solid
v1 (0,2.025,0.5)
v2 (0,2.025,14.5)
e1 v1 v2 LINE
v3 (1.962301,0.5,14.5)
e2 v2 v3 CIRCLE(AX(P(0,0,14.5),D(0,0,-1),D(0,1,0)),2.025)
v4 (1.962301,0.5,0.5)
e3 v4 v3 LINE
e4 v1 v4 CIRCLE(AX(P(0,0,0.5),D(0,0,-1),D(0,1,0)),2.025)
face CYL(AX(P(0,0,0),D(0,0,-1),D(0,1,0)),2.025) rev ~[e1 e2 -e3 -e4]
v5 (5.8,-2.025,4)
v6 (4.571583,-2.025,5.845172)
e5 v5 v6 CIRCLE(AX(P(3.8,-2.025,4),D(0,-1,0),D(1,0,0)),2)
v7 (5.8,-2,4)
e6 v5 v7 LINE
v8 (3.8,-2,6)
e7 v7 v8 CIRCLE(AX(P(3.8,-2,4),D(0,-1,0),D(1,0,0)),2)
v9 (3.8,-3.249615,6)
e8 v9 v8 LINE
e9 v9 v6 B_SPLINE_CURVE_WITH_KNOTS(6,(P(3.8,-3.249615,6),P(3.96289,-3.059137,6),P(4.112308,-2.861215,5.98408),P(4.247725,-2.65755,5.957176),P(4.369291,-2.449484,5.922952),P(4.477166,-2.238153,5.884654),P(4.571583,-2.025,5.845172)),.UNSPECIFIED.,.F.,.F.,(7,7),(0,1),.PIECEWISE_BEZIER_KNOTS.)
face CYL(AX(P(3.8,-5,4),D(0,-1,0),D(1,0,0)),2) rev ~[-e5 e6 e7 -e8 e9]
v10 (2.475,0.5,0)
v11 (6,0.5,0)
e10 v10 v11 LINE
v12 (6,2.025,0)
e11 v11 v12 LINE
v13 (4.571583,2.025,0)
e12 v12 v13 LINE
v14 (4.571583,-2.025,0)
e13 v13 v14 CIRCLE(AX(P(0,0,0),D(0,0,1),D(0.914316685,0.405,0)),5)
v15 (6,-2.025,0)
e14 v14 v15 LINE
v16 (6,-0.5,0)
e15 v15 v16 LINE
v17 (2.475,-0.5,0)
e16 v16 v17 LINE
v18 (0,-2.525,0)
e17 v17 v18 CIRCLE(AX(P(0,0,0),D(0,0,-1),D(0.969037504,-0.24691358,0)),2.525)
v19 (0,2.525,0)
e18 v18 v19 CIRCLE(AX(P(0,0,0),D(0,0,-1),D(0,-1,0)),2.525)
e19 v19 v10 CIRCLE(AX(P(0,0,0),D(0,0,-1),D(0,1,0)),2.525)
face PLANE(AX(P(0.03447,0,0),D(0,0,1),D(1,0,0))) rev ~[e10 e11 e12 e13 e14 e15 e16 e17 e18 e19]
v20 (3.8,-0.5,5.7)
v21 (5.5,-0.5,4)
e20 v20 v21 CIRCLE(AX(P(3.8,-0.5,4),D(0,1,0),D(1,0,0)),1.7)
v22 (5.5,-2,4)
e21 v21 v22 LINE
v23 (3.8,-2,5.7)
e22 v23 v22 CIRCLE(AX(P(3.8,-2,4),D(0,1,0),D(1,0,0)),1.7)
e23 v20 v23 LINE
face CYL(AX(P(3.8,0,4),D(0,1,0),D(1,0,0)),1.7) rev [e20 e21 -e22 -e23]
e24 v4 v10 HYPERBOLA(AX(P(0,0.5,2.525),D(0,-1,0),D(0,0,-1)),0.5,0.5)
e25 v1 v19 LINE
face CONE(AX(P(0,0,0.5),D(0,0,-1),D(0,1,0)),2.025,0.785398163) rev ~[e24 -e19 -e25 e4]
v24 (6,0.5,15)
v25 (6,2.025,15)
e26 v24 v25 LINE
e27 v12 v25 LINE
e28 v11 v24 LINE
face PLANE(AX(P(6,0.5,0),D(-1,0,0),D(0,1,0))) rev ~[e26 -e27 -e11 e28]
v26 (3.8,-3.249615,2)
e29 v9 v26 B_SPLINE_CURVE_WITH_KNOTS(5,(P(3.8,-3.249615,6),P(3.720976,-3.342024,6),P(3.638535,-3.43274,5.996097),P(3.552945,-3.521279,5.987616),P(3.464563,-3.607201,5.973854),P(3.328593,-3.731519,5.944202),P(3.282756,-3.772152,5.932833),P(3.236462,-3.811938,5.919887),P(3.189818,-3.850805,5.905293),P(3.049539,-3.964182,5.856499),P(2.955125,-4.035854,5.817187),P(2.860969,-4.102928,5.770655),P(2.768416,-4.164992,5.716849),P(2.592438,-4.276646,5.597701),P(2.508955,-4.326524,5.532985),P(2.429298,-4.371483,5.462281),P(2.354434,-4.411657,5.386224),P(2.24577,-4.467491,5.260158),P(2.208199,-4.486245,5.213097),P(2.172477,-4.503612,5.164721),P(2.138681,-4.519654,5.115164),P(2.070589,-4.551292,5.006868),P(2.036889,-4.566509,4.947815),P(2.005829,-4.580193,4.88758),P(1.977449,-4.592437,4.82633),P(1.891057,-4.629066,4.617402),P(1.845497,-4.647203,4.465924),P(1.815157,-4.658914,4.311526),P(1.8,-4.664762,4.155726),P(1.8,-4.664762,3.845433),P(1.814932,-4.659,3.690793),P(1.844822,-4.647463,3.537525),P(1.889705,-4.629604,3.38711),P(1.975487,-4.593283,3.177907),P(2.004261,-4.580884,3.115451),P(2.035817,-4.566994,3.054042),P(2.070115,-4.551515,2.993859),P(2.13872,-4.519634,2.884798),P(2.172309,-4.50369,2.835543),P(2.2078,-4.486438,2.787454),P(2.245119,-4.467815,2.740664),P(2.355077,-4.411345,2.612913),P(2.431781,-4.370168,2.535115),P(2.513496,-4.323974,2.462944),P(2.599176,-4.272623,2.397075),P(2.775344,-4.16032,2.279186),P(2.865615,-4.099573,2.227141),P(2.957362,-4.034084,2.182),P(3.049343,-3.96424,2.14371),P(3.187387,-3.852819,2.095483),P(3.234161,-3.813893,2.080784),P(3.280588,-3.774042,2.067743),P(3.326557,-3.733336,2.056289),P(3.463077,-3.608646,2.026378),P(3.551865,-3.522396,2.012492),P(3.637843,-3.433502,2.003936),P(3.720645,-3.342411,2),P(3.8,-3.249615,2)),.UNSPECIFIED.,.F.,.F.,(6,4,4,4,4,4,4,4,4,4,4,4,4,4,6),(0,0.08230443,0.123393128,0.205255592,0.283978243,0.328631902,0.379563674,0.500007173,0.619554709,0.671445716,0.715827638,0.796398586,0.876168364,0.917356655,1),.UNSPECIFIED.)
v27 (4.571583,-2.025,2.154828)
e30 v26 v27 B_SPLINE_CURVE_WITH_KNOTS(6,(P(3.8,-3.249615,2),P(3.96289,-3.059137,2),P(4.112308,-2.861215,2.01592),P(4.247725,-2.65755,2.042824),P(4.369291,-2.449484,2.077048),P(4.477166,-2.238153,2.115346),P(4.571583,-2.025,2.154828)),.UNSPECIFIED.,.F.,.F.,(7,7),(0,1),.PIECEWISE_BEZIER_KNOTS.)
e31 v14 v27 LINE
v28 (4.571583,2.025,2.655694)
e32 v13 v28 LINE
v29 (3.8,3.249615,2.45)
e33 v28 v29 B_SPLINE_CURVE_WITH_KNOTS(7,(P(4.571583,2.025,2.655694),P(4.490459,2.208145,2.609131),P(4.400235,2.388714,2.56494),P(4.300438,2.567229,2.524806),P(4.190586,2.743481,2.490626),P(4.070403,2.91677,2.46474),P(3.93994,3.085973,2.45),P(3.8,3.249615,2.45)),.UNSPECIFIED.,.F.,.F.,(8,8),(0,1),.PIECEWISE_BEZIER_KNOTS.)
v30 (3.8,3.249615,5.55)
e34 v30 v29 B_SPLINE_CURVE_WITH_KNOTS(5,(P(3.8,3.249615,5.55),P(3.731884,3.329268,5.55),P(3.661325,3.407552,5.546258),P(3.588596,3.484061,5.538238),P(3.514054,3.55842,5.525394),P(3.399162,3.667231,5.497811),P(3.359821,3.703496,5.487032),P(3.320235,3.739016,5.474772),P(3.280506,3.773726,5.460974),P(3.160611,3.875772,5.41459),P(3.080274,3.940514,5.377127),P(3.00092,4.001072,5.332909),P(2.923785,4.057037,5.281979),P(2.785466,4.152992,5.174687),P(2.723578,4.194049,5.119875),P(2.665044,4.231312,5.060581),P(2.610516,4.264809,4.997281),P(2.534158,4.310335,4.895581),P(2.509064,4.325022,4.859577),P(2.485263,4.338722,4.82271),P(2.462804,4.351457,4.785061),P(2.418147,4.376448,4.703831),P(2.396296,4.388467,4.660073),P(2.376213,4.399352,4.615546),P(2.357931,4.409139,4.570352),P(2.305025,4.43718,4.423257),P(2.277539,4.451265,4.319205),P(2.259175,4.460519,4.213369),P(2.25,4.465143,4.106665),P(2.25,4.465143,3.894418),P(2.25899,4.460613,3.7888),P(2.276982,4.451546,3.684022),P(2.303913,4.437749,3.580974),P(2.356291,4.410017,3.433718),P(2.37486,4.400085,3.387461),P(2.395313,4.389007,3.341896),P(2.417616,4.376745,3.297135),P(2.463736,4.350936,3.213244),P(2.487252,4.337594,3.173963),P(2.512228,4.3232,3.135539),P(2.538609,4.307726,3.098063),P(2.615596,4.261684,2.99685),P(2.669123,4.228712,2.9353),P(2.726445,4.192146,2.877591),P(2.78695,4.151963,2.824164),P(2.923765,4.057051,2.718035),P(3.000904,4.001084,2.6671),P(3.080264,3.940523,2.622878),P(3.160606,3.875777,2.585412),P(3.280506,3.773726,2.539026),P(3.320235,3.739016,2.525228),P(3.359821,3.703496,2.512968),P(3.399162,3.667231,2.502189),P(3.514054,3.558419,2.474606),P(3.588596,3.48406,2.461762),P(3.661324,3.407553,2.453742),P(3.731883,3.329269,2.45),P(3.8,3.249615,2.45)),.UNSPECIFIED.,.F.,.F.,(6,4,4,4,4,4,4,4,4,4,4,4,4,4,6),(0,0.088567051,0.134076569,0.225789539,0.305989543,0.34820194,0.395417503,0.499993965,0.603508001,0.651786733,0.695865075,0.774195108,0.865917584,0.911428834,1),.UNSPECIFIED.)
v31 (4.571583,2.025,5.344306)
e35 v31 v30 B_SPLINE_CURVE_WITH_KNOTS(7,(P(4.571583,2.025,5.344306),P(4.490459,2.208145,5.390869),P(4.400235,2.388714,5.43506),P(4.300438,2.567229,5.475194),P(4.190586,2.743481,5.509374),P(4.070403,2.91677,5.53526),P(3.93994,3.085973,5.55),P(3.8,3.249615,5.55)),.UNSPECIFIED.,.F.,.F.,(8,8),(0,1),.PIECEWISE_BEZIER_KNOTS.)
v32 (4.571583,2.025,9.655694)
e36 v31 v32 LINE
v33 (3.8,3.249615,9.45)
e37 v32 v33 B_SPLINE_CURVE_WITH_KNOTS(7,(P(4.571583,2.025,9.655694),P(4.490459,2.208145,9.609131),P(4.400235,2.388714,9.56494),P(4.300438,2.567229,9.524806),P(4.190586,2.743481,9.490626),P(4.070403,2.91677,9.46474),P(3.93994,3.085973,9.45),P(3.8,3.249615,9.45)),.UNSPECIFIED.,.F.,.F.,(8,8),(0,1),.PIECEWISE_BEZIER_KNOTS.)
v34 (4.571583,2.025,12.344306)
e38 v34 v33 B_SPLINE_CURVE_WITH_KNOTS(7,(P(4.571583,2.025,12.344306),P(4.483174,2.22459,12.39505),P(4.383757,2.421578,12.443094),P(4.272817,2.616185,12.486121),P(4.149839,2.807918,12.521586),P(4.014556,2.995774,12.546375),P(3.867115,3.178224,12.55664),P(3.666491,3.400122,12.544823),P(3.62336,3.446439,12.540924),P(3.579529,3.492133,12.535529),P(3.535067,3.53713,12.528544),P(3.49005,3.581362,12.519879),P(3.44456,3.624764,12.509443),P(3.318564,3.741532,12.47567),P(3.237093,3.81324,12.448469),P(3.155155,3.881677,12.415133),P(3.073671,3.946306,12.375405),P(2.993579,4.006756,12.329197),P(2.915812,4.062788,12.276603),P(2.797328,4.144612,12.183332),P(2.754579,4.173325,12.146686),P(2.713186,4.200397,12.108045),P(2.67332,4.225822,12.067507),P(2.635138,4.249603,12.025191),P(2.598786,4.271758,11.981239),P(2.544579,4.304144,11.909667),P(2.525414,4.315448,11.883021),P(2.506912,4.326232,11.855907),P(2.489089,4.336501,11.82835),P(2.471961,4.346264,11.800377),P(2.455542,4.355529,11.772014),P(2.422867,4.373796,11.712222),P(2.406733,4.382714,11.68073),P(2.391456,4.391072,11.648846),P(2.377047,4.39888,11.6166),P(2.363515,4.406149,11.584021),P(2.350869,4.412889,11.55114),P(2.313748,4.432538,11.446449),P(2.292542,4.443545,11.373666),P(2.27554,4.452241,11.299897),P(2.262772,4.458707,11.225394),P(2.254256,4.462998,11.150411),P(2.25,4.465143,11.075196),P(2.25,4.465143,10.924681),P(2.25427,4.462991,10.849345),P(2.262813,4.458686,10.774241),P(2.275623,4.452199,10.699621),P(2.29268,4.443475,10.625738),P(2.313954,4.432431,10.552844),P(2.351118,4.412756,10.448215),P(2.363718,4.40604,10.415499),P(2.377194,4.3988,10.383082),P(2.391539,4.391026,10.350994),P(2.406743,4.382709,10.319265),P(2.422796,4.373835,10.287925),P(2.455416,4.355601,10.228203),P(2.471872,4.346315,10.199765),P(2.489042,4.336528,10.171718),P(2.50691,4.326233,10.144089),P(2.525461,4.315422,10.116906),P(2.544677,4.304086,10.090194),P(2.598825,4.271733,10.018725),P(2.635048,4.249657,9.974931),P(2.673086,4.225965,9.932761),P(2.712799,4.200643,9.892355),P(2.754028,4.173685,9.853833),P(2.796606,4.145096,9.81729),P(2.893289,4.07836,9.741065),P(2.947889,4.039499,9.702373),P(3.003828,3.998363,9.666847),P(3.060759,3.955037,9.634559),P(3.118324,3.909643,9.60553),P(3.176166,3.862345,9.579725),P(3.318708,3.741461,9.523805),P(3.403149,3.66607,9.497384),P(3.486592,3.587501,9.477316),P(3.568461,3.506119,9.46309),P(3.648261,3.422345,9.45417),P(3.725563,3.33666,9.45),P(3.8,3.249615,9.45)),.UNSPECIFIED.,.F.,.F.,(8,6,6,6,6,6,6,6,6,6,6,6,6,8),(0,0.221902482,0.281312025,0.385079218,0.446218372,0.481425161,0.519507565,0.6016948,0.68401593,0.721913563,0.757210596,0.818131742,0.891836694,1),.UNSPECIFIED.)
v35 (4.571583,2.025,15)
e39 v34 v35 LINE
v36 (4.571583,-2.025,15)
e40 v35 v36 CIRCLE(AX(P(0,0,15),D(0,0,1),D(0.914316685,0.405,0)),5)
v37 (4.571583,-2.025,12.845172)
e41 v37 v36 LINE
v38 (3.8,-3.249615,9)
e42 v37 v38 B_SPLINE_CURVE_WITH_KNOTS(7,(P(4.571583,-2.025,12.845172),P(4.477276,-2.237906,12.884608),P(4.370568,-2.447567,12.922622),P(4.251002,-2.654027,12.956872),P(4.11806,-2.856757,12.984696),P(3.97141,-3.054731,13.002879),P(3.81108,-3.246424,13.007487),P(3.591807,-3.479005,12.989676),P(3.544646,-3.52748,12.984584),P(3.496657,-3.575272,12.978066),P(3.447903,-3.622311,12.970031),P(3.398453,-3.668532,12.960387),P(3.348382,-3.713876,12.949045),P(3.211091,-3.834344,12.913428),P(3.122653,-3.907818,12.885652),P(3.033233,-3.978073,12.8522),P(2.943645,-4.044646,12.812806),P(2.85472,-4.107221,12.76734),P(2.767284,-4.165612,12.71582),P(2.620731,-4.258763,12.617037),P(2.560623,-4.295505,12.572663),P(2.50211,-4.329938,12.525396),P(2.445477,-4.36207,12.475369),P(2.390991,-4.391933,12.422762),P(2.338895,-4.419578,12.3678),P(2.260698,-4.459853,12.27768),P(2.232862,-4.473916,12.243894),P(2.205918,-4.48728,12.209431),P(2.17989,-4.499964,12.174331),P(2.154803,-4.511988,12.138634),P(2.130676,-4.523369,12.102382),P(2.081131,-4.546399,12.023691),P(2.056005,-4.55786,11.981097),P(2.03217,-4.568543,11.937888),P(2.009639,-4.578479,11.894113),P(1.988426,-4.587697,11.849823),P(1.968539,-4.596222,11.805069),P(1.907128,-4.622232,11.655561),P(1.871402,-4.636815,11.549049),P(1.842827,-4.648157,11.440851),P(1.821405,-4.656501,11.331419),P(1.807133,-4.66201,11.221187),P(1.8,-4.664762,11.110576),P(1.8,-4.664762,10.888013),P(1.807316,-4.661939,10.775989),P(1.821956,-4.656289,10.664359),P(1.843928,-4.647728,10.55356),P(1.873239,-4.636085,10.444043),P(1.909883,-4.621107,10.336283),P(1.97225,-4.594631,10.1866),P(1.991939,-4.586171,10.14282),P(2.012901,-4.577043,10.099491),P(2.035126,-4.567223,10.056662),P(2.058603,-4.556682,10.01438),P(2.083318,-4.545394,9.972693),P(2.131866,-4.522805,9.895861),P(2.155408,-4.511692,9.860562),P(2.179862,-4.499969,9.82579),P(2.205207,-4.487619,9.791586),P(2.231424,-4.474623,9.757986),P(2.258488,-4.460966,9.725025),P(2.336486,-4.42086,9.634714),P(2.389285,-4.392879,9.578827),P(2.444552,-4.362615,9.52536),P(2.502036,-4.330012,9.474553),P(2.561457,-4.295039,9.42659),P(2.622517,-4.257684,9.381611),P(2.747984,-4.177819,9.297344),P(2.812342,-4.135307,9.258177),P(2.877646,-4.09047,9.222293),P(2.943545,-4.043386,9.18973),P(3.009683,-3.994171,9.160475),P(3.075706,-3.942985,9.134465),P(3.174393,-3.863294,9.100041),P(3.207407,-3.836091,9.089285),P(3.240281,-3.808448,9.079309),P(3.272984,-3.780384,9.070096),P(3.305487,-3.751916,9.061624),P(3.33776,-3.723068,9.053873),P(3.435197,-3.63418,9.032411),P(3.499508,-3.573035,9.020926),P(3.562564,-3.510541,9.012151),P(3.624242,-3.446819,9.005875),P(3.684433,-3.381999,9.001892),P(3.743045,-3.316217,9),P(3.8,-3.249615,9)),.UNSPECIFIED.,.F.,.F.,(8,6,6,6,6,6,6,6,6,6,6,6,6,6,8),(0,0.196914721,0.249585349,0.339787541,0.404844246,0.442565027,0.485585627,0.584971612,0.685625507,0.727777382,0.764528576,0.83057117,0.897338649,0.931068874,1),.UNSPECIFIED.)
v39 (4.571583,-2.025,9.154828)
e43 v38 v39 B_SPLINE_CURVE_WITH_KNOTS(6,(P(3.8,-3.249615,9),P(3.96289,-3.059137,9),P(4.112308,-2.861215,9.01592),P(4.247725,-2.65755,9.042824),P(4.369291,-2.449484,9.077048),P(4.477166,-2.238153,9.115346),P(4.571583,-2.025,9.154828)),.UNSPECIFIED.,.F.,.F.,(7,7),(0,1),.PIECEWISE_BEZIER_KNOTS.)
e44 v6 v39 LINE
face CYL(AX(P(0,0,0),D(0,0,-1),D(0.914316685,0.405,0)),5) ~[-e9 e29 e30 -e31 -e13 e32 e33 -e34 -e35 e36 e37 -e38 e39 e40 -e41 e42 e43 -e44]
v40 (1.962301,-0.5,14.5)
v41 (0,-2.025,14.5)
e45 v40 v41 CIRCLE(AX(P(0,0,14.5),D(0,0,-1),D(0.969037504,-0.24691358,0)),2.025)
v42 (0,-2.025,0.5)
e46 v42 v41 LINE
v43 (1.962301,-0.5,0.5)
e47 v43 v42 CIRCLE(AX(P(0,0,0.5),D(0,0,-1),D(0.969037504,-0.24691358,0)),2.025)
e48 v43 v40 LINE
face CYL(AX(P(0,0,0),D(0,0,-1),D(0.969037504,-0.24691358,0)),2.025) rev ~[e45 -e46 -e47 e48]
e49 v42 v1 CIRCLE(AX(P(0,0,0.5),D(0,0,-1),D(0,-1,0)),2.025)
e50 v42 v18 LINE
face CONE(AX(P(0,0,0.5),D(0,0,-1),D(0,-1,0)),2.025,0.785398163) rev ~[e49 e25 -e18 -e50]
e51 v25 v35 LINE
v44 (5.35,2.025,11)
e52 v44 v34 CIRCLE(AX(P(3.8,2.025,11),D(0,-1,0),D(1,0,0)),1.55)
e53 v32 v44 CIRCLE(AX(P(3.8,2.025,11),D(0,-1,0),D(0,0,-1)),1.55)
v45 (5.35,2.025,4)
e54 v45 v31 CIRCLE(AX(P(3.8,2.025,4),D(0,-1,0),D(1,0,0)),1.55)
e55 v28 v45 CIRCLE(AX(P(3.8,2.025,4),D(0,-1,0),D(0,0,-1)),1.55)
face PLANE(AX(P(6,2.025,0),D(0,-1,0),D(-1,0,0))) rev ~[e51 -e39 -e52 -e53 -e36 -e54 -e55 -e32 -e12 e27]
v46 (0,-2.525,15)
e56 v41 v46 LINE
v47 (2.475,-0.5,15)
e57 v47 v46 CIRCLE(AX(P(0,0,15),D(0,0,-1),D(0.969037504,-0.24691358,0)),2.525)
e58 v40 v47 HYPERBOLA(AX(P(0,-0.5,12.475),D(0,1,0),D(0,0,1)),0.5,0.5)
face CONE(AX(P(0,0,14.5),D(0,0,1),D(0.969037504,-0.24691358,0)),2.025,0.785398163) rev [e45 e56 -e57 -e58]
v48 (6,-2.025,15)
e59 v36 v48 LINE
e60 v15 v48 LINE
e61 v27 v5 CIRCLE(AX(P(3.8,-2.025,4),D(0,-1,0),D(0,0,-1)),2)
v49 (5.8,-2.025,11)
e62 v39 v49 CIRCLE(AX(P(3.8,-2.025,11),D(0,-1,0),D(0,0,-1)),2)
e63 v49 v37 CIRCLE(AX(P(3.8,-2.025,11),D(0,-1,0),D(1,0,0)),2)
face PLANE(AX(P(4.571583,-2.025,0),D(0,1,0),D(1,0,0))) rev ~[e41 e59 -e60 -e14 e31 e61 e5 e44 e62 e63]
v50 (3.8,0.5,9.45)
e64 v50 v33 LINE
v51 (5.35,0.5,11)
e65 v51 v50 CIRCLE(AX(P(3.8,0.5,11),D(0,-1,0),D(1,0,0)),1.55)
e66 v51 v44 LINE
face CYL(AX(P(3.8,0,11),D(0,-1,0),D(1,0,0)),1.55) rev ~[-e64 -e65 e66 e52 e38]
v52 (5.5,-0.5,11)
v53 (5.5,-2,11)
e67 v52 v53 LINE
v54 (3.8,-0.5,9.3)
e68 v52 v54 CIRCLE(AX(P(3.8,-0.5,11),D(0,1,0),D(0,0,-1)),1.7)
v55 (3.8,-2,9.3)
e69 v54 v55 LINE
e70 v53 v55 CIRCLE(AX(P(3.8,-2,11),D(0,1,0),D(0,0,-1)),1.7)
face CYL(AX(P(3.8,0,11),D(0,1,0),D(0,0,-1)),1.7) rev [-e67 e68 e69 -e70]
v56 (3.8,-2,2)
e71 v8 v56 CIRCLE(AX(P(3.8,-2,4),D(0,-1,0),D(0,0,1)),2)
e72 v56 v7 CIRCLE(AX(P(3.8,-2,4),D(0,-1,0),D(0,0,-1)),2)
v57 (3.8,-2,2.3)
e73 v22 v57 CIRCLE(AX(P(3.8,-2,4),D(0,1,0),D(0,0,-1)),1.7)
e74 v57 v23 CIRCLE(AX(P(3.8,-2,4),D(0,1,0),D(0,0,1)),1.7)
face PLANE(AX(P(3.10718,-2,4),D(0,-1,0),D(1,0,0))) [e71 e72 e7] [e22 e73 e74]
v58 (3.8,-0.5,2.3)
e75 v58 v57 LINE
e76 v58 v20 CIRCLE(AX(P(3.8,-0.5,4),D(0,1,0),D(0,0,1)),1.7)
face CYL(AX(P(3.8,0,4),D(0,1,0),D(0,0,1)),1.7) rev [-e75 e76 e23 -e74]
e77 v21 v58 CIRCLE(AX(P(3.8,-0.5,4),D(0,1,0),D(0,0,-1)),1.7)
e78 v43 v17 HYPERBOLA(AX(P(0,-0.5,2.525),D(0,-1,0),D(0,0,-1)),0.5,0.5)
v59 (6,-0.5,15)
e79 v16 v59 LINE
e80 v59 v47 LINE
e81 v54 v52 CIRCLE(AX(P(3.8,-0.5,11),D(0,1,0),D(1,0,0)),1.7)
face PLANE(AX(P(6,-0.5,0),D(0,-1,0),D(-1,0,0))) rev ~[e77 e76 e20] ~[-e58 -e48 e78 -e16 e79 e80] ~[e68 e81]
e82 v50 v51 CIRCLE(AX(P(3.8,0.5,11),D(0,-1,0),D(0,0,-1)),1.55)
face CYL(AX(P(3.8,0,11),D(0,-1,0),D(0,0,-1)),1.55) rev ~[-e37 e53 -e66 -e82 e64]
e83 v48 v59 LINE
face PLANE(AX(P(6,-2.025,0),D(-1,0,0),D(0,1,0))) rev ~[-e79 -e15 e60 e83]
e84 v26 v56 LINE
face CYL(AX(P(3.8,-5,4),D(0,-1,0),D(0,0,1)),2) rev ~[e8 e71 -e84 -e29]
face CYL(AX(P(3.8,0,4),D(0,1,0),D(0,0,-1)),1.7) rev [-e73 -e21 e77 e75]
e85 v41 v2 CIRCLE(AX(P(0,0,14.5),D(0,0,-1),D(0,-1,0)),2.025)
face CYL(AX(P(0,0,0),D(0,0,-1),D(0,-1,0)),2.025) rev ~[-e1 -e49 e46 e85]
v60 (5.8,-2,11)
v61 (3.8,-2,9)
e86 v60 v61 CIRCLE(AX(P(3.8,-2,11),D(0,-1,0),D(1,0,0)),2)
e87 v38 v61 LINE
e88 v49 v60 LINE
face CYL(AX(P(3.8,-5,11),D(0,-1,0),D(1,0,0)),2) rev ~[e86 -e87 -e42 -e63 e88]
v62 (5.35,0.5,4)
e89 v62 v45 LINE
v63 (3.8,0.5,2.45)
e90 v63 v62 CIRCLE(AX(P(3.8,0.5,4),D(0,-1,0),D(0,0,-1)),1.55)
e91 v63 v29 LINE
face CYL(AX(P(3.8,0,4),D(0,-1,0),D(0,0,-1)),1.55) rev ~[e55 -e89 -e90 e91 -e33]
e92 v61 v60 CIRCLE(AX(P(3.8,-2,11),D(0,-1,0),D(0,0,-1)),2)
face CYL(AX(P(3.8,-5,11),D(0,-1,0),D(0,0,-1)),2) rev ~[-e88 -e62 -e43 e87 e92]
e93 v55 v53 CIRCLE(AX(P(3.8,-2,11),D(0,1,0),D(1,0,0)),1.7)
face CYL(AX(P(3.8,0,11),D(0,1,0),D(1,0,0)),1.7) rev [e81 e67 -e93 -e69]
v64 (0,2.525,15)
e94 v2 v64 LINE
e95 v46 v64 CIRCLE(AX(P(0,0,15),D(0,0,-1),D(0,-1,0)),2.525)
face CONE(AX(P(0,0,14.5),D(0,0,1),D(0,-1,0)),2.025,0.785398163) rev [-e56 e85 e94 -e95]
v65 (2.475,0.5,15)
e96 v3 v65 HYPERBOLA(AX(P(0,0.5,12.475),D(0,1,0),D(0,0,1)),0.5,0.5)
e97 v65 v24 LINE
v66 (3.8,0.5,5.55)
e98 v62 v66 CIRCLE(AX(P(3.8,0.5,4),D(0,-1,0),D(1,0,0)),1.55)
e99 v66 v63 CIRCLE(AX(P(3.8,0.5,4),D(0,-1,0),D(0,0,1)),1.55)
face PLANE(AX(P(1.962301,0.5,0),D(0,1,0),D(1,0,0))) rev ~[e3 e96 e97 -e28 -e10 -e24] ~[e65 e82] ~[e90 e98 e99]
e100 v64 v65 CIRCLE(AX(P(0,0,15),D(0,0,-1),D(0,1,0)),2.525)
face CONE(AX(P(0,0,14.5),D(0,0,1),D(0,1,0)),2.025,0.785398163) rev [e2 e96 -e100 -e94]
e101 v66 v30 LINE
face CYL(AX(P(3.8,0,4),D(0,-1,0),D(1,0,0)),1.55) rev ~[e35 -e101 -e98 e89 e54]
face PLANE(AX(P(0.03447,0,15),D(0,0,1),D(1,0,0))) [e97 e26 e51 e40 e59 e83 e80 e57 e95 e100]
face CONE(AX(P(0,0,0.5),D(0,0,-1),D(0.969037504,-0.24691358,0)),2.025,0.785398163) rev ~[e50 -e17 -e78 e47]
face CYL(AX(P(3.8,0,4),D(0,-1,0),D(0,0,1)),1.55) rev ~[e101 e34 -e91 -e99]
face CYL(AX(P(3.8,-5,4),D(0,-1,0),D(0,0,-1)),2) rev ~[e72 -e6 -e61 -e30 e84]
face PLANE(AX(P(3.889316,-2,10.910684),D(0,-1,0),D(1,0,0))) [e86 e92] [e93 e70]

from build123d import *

# Parameters (mm, degrees)
F2_DEPTH = 15
F3_DEPTH = 5
F4_DEPTH = 5
F7_DEPTH = 3
F8_SIZE  = 0.5


with BuildPart() as f2:
    # F0 (on Top) → F2 (new body)
    with BuildSketch(Plane.XY):
        with BuildLine():
            ThreePointArc((0, -2.025), (-2.025, 0), (0, 2.025))
            Line((0, 2.025), (4.5715834237, 2.025))
            ThreePointArc((4.5715834237, 2.025), (-5, 0), (4.5715834237, -2.025))
            Line((4.5715834237, -2.025), (0, -2.025))
        make_face()
        with BuildLine():
            Line((4.5715834237, 2.025), (0, 2.025))
            ThreePointArc((0, 2.025), (1.2426031144, 1.5989254204), (1.9623009453, 0.5))
            Line((1.9623009453, 0.5), (4.9749371855, 0.5))
            ThreePointArc((4.9749371855, 0.5), (4.8337790791, 1.2785068691), (4.5715834237, 2.025))
        make_face()
        with BuildLine():
            ThreePointArc((1.9623009453, -0.5), (1.2426031144, -1.5989254204), (0, -2.025))
            Line((0, -2.025), (4.5715834237, -2.025))
            ThreePointArc((4.5715834237, -2.025), (4.8337790791, -1.2785068691), (4.9749371855, -0.5))
            Line((4.9749371855, -0.5), (1.9623009453, -0.5))
        make_face()
        with BuildLine():
            Line((6, 2.025), (4.5715834237, 2.025))
            ThreePointArc((4.5715834237, 2.025), (4.8337790791, 1.2785068691), (4.9749371855, 0.5))
            Line((4.9749371855, 0.5), (5.5474806577, 0.5))
            Line((5.5474806577, 0.5), (6, 0.5))
            Line((6, 0.5), (6, 2.025))
        make_face()
        with BuildLine():
            ThreePointArc((4.9749371855, -0.5), (4.8337790791, -1.2785068691), (4.5715834237, -2.025))
            Line((4.5715834237, -2.025), (6, -2.025))
            Line((6, -2.025), (6, -0.5))
            Line((6, -0.5), (5.5474806577, -0.5))
            Line((5.5474806577, -0.5), (4.9749371855, -0.5))
        make_face()
    extrude(amount=F2_DEPTH)

    # F1 (on Front) → F3 (cut)
    with BuildSketch(Plane.XZ):
        with BuildLine():
            ThreePointArc((5.35, 11), (2.7039844892, 12.0960155108), (3.8, 9.45))
            ThreePointArc((3.8, 9.45), (4.8960155108, 9.9039844892), (5.35, 11))
        make_face()
        with BuildLine():
            Line((3.8, 4), (3.8, 2.45))
            ThreePointArc((3.8, 2.45), (4.8960155108, 2.9039844892), (5.35, 4))
            ThreePointArc((5.35, 4), (4.8960155108, 5.0960155108), (3.8, 5.55))
            Line((3.8, 5.55), (3.8, 4))
        make_face()
        with BuildLine():
            ThreePointArc((3.8, 5.55), (2.25, 4), (3.8, 2.45))
            Line((3.8, 2.45), (3.8, 4))
            Line((3.8, 4), (3.8, 5.55))
        make_face()
    extrude(amount=-F3_DEPTH, mode=Mode.SUBTRACT)

    # F1 (on Front) → F4 (cut)
    with BuildSketch(Plane.XZ):
        with BuildLine():
            ThreePointArc((5.5, 11), (2.597918472, 12.202081528), (3.8, 9.3))
            ThreePointArc((3.8, 9.3), (5.002081528, 9.797918472), (5.5, 11))
        make_face()
        with BuildLine():
            ThreePointArc((5.35, 11), (4.8960155108, 9.9039844892), (3.8, 9.45))
            ThreePointArc((3.8, 9.45), (2.7039844892, 12.0960155108), (5.35, 11))
        make_face(mode=Mode.SUBTRACT)
        with BuildLine():
            ThreePointArc((5.35, 11), (2.7039844892, 12.0960155108), (3.8, 9.45))
            ThreePointArc((3.8, 9.45), (4.8960155108, 9.9039844892), (5.35, 11))
        make_face()
        with BuildLine():
            Line((3.8, 4), (3.8, 2.45))
            ThreePointArc((3.8, 2.45), (4.8960155108, 2.9039844892), (5.35, 4))
            ThreePointArc((5.35, 4), (4.8960155108, 5.0960155108), (3.8, 5.55))
            Line((3.8, 5.55), (3.8, 4))
        make_face()
        with BuildLine():
            ThreePointArc((3.8, 5.55), (2.25, 4), (3.8, 2.45))
            Line((3.8, 2.45), (3.8, 4))
            Line((3.8, 4), (3.8, 5.55))
        make_face()
        with BuildLine():
            Line((3.8, 2.45), (3.8, 2.3))
            ThreePointArc((3.8, 2.3), (5.002081528, 2.797918472), (5.5, 4))
            ThreePointArc((5.5, 4), (5.002081528, 5.202081528), (3.8, 5.7))
            Line((3.8, 5.7), (3.8, 5.55))
            ThreePointArc((3.8, 5.55), (4.8960155108, 5.0960155108), (5.35, 4))
            ThreePointArc((5.35, 4), (4.8960155108, 2.9039844892), (3.8, 2.45))
        make_face()
        with BuildLine():
            ThreePointArc((3.8, 5.7), (2.1, 4), (3.8, 2.3))
            Line((3.8, 2.3), (3.8, 2.45))
            ThreePointArc((3.8, 2.45), (2.25, 4), (3.8, 5.55))
            Line((3.8, 5.55), (3.8, 5.7))
        make_face()
    extrude(amount=F4_DEPTH, mode=Mode.SUBTRACT)

    # F6 (on offset) → F7 (cut)
    with BuildSketch(Plane.XZ.offset(5)):
        with BuildLine():
            ThreePointArc((5.8, 11), (2.3857864376, 12.4142135624), (3.8, 9))
            ThreePointArc((3.8, 9), (5.2142135624, 9.5857864376), (5.8, 11))
        make_face()
        with BuildLine():
            ThreePointArc((3.8, 6), (1.8, 4), (3.8, 2))
            Line((3.8, 2), (3.8, 4))
            Line((3.8, 4), (3.8, 6))
        make_face()
        with BuildLine():
            Line((3.8, 4), (3.8, 2))
            ThreePointArc((3.8, 2), (5.2142135624, 2.5857864376), (5.8, 4))
            ThreePointArc((5.8, 4), (5.2142135624, 5.4142135624), (3.8, 6))
            Line((3.8, 6), (3.8, 4))
        make_face()
    extrude(amount=-F7_DEPTH, mode=Mode.SUBTRACT)

    # F8
    f8_edges = [f2.edges().sort_by_distance(p)[0] for p in [
        (-2.025, 0, 15),
        (-2.025, 0, 0),
    ]]
    chamfer(f8_edges, length=F8_SIZE)


solid = f2.part
